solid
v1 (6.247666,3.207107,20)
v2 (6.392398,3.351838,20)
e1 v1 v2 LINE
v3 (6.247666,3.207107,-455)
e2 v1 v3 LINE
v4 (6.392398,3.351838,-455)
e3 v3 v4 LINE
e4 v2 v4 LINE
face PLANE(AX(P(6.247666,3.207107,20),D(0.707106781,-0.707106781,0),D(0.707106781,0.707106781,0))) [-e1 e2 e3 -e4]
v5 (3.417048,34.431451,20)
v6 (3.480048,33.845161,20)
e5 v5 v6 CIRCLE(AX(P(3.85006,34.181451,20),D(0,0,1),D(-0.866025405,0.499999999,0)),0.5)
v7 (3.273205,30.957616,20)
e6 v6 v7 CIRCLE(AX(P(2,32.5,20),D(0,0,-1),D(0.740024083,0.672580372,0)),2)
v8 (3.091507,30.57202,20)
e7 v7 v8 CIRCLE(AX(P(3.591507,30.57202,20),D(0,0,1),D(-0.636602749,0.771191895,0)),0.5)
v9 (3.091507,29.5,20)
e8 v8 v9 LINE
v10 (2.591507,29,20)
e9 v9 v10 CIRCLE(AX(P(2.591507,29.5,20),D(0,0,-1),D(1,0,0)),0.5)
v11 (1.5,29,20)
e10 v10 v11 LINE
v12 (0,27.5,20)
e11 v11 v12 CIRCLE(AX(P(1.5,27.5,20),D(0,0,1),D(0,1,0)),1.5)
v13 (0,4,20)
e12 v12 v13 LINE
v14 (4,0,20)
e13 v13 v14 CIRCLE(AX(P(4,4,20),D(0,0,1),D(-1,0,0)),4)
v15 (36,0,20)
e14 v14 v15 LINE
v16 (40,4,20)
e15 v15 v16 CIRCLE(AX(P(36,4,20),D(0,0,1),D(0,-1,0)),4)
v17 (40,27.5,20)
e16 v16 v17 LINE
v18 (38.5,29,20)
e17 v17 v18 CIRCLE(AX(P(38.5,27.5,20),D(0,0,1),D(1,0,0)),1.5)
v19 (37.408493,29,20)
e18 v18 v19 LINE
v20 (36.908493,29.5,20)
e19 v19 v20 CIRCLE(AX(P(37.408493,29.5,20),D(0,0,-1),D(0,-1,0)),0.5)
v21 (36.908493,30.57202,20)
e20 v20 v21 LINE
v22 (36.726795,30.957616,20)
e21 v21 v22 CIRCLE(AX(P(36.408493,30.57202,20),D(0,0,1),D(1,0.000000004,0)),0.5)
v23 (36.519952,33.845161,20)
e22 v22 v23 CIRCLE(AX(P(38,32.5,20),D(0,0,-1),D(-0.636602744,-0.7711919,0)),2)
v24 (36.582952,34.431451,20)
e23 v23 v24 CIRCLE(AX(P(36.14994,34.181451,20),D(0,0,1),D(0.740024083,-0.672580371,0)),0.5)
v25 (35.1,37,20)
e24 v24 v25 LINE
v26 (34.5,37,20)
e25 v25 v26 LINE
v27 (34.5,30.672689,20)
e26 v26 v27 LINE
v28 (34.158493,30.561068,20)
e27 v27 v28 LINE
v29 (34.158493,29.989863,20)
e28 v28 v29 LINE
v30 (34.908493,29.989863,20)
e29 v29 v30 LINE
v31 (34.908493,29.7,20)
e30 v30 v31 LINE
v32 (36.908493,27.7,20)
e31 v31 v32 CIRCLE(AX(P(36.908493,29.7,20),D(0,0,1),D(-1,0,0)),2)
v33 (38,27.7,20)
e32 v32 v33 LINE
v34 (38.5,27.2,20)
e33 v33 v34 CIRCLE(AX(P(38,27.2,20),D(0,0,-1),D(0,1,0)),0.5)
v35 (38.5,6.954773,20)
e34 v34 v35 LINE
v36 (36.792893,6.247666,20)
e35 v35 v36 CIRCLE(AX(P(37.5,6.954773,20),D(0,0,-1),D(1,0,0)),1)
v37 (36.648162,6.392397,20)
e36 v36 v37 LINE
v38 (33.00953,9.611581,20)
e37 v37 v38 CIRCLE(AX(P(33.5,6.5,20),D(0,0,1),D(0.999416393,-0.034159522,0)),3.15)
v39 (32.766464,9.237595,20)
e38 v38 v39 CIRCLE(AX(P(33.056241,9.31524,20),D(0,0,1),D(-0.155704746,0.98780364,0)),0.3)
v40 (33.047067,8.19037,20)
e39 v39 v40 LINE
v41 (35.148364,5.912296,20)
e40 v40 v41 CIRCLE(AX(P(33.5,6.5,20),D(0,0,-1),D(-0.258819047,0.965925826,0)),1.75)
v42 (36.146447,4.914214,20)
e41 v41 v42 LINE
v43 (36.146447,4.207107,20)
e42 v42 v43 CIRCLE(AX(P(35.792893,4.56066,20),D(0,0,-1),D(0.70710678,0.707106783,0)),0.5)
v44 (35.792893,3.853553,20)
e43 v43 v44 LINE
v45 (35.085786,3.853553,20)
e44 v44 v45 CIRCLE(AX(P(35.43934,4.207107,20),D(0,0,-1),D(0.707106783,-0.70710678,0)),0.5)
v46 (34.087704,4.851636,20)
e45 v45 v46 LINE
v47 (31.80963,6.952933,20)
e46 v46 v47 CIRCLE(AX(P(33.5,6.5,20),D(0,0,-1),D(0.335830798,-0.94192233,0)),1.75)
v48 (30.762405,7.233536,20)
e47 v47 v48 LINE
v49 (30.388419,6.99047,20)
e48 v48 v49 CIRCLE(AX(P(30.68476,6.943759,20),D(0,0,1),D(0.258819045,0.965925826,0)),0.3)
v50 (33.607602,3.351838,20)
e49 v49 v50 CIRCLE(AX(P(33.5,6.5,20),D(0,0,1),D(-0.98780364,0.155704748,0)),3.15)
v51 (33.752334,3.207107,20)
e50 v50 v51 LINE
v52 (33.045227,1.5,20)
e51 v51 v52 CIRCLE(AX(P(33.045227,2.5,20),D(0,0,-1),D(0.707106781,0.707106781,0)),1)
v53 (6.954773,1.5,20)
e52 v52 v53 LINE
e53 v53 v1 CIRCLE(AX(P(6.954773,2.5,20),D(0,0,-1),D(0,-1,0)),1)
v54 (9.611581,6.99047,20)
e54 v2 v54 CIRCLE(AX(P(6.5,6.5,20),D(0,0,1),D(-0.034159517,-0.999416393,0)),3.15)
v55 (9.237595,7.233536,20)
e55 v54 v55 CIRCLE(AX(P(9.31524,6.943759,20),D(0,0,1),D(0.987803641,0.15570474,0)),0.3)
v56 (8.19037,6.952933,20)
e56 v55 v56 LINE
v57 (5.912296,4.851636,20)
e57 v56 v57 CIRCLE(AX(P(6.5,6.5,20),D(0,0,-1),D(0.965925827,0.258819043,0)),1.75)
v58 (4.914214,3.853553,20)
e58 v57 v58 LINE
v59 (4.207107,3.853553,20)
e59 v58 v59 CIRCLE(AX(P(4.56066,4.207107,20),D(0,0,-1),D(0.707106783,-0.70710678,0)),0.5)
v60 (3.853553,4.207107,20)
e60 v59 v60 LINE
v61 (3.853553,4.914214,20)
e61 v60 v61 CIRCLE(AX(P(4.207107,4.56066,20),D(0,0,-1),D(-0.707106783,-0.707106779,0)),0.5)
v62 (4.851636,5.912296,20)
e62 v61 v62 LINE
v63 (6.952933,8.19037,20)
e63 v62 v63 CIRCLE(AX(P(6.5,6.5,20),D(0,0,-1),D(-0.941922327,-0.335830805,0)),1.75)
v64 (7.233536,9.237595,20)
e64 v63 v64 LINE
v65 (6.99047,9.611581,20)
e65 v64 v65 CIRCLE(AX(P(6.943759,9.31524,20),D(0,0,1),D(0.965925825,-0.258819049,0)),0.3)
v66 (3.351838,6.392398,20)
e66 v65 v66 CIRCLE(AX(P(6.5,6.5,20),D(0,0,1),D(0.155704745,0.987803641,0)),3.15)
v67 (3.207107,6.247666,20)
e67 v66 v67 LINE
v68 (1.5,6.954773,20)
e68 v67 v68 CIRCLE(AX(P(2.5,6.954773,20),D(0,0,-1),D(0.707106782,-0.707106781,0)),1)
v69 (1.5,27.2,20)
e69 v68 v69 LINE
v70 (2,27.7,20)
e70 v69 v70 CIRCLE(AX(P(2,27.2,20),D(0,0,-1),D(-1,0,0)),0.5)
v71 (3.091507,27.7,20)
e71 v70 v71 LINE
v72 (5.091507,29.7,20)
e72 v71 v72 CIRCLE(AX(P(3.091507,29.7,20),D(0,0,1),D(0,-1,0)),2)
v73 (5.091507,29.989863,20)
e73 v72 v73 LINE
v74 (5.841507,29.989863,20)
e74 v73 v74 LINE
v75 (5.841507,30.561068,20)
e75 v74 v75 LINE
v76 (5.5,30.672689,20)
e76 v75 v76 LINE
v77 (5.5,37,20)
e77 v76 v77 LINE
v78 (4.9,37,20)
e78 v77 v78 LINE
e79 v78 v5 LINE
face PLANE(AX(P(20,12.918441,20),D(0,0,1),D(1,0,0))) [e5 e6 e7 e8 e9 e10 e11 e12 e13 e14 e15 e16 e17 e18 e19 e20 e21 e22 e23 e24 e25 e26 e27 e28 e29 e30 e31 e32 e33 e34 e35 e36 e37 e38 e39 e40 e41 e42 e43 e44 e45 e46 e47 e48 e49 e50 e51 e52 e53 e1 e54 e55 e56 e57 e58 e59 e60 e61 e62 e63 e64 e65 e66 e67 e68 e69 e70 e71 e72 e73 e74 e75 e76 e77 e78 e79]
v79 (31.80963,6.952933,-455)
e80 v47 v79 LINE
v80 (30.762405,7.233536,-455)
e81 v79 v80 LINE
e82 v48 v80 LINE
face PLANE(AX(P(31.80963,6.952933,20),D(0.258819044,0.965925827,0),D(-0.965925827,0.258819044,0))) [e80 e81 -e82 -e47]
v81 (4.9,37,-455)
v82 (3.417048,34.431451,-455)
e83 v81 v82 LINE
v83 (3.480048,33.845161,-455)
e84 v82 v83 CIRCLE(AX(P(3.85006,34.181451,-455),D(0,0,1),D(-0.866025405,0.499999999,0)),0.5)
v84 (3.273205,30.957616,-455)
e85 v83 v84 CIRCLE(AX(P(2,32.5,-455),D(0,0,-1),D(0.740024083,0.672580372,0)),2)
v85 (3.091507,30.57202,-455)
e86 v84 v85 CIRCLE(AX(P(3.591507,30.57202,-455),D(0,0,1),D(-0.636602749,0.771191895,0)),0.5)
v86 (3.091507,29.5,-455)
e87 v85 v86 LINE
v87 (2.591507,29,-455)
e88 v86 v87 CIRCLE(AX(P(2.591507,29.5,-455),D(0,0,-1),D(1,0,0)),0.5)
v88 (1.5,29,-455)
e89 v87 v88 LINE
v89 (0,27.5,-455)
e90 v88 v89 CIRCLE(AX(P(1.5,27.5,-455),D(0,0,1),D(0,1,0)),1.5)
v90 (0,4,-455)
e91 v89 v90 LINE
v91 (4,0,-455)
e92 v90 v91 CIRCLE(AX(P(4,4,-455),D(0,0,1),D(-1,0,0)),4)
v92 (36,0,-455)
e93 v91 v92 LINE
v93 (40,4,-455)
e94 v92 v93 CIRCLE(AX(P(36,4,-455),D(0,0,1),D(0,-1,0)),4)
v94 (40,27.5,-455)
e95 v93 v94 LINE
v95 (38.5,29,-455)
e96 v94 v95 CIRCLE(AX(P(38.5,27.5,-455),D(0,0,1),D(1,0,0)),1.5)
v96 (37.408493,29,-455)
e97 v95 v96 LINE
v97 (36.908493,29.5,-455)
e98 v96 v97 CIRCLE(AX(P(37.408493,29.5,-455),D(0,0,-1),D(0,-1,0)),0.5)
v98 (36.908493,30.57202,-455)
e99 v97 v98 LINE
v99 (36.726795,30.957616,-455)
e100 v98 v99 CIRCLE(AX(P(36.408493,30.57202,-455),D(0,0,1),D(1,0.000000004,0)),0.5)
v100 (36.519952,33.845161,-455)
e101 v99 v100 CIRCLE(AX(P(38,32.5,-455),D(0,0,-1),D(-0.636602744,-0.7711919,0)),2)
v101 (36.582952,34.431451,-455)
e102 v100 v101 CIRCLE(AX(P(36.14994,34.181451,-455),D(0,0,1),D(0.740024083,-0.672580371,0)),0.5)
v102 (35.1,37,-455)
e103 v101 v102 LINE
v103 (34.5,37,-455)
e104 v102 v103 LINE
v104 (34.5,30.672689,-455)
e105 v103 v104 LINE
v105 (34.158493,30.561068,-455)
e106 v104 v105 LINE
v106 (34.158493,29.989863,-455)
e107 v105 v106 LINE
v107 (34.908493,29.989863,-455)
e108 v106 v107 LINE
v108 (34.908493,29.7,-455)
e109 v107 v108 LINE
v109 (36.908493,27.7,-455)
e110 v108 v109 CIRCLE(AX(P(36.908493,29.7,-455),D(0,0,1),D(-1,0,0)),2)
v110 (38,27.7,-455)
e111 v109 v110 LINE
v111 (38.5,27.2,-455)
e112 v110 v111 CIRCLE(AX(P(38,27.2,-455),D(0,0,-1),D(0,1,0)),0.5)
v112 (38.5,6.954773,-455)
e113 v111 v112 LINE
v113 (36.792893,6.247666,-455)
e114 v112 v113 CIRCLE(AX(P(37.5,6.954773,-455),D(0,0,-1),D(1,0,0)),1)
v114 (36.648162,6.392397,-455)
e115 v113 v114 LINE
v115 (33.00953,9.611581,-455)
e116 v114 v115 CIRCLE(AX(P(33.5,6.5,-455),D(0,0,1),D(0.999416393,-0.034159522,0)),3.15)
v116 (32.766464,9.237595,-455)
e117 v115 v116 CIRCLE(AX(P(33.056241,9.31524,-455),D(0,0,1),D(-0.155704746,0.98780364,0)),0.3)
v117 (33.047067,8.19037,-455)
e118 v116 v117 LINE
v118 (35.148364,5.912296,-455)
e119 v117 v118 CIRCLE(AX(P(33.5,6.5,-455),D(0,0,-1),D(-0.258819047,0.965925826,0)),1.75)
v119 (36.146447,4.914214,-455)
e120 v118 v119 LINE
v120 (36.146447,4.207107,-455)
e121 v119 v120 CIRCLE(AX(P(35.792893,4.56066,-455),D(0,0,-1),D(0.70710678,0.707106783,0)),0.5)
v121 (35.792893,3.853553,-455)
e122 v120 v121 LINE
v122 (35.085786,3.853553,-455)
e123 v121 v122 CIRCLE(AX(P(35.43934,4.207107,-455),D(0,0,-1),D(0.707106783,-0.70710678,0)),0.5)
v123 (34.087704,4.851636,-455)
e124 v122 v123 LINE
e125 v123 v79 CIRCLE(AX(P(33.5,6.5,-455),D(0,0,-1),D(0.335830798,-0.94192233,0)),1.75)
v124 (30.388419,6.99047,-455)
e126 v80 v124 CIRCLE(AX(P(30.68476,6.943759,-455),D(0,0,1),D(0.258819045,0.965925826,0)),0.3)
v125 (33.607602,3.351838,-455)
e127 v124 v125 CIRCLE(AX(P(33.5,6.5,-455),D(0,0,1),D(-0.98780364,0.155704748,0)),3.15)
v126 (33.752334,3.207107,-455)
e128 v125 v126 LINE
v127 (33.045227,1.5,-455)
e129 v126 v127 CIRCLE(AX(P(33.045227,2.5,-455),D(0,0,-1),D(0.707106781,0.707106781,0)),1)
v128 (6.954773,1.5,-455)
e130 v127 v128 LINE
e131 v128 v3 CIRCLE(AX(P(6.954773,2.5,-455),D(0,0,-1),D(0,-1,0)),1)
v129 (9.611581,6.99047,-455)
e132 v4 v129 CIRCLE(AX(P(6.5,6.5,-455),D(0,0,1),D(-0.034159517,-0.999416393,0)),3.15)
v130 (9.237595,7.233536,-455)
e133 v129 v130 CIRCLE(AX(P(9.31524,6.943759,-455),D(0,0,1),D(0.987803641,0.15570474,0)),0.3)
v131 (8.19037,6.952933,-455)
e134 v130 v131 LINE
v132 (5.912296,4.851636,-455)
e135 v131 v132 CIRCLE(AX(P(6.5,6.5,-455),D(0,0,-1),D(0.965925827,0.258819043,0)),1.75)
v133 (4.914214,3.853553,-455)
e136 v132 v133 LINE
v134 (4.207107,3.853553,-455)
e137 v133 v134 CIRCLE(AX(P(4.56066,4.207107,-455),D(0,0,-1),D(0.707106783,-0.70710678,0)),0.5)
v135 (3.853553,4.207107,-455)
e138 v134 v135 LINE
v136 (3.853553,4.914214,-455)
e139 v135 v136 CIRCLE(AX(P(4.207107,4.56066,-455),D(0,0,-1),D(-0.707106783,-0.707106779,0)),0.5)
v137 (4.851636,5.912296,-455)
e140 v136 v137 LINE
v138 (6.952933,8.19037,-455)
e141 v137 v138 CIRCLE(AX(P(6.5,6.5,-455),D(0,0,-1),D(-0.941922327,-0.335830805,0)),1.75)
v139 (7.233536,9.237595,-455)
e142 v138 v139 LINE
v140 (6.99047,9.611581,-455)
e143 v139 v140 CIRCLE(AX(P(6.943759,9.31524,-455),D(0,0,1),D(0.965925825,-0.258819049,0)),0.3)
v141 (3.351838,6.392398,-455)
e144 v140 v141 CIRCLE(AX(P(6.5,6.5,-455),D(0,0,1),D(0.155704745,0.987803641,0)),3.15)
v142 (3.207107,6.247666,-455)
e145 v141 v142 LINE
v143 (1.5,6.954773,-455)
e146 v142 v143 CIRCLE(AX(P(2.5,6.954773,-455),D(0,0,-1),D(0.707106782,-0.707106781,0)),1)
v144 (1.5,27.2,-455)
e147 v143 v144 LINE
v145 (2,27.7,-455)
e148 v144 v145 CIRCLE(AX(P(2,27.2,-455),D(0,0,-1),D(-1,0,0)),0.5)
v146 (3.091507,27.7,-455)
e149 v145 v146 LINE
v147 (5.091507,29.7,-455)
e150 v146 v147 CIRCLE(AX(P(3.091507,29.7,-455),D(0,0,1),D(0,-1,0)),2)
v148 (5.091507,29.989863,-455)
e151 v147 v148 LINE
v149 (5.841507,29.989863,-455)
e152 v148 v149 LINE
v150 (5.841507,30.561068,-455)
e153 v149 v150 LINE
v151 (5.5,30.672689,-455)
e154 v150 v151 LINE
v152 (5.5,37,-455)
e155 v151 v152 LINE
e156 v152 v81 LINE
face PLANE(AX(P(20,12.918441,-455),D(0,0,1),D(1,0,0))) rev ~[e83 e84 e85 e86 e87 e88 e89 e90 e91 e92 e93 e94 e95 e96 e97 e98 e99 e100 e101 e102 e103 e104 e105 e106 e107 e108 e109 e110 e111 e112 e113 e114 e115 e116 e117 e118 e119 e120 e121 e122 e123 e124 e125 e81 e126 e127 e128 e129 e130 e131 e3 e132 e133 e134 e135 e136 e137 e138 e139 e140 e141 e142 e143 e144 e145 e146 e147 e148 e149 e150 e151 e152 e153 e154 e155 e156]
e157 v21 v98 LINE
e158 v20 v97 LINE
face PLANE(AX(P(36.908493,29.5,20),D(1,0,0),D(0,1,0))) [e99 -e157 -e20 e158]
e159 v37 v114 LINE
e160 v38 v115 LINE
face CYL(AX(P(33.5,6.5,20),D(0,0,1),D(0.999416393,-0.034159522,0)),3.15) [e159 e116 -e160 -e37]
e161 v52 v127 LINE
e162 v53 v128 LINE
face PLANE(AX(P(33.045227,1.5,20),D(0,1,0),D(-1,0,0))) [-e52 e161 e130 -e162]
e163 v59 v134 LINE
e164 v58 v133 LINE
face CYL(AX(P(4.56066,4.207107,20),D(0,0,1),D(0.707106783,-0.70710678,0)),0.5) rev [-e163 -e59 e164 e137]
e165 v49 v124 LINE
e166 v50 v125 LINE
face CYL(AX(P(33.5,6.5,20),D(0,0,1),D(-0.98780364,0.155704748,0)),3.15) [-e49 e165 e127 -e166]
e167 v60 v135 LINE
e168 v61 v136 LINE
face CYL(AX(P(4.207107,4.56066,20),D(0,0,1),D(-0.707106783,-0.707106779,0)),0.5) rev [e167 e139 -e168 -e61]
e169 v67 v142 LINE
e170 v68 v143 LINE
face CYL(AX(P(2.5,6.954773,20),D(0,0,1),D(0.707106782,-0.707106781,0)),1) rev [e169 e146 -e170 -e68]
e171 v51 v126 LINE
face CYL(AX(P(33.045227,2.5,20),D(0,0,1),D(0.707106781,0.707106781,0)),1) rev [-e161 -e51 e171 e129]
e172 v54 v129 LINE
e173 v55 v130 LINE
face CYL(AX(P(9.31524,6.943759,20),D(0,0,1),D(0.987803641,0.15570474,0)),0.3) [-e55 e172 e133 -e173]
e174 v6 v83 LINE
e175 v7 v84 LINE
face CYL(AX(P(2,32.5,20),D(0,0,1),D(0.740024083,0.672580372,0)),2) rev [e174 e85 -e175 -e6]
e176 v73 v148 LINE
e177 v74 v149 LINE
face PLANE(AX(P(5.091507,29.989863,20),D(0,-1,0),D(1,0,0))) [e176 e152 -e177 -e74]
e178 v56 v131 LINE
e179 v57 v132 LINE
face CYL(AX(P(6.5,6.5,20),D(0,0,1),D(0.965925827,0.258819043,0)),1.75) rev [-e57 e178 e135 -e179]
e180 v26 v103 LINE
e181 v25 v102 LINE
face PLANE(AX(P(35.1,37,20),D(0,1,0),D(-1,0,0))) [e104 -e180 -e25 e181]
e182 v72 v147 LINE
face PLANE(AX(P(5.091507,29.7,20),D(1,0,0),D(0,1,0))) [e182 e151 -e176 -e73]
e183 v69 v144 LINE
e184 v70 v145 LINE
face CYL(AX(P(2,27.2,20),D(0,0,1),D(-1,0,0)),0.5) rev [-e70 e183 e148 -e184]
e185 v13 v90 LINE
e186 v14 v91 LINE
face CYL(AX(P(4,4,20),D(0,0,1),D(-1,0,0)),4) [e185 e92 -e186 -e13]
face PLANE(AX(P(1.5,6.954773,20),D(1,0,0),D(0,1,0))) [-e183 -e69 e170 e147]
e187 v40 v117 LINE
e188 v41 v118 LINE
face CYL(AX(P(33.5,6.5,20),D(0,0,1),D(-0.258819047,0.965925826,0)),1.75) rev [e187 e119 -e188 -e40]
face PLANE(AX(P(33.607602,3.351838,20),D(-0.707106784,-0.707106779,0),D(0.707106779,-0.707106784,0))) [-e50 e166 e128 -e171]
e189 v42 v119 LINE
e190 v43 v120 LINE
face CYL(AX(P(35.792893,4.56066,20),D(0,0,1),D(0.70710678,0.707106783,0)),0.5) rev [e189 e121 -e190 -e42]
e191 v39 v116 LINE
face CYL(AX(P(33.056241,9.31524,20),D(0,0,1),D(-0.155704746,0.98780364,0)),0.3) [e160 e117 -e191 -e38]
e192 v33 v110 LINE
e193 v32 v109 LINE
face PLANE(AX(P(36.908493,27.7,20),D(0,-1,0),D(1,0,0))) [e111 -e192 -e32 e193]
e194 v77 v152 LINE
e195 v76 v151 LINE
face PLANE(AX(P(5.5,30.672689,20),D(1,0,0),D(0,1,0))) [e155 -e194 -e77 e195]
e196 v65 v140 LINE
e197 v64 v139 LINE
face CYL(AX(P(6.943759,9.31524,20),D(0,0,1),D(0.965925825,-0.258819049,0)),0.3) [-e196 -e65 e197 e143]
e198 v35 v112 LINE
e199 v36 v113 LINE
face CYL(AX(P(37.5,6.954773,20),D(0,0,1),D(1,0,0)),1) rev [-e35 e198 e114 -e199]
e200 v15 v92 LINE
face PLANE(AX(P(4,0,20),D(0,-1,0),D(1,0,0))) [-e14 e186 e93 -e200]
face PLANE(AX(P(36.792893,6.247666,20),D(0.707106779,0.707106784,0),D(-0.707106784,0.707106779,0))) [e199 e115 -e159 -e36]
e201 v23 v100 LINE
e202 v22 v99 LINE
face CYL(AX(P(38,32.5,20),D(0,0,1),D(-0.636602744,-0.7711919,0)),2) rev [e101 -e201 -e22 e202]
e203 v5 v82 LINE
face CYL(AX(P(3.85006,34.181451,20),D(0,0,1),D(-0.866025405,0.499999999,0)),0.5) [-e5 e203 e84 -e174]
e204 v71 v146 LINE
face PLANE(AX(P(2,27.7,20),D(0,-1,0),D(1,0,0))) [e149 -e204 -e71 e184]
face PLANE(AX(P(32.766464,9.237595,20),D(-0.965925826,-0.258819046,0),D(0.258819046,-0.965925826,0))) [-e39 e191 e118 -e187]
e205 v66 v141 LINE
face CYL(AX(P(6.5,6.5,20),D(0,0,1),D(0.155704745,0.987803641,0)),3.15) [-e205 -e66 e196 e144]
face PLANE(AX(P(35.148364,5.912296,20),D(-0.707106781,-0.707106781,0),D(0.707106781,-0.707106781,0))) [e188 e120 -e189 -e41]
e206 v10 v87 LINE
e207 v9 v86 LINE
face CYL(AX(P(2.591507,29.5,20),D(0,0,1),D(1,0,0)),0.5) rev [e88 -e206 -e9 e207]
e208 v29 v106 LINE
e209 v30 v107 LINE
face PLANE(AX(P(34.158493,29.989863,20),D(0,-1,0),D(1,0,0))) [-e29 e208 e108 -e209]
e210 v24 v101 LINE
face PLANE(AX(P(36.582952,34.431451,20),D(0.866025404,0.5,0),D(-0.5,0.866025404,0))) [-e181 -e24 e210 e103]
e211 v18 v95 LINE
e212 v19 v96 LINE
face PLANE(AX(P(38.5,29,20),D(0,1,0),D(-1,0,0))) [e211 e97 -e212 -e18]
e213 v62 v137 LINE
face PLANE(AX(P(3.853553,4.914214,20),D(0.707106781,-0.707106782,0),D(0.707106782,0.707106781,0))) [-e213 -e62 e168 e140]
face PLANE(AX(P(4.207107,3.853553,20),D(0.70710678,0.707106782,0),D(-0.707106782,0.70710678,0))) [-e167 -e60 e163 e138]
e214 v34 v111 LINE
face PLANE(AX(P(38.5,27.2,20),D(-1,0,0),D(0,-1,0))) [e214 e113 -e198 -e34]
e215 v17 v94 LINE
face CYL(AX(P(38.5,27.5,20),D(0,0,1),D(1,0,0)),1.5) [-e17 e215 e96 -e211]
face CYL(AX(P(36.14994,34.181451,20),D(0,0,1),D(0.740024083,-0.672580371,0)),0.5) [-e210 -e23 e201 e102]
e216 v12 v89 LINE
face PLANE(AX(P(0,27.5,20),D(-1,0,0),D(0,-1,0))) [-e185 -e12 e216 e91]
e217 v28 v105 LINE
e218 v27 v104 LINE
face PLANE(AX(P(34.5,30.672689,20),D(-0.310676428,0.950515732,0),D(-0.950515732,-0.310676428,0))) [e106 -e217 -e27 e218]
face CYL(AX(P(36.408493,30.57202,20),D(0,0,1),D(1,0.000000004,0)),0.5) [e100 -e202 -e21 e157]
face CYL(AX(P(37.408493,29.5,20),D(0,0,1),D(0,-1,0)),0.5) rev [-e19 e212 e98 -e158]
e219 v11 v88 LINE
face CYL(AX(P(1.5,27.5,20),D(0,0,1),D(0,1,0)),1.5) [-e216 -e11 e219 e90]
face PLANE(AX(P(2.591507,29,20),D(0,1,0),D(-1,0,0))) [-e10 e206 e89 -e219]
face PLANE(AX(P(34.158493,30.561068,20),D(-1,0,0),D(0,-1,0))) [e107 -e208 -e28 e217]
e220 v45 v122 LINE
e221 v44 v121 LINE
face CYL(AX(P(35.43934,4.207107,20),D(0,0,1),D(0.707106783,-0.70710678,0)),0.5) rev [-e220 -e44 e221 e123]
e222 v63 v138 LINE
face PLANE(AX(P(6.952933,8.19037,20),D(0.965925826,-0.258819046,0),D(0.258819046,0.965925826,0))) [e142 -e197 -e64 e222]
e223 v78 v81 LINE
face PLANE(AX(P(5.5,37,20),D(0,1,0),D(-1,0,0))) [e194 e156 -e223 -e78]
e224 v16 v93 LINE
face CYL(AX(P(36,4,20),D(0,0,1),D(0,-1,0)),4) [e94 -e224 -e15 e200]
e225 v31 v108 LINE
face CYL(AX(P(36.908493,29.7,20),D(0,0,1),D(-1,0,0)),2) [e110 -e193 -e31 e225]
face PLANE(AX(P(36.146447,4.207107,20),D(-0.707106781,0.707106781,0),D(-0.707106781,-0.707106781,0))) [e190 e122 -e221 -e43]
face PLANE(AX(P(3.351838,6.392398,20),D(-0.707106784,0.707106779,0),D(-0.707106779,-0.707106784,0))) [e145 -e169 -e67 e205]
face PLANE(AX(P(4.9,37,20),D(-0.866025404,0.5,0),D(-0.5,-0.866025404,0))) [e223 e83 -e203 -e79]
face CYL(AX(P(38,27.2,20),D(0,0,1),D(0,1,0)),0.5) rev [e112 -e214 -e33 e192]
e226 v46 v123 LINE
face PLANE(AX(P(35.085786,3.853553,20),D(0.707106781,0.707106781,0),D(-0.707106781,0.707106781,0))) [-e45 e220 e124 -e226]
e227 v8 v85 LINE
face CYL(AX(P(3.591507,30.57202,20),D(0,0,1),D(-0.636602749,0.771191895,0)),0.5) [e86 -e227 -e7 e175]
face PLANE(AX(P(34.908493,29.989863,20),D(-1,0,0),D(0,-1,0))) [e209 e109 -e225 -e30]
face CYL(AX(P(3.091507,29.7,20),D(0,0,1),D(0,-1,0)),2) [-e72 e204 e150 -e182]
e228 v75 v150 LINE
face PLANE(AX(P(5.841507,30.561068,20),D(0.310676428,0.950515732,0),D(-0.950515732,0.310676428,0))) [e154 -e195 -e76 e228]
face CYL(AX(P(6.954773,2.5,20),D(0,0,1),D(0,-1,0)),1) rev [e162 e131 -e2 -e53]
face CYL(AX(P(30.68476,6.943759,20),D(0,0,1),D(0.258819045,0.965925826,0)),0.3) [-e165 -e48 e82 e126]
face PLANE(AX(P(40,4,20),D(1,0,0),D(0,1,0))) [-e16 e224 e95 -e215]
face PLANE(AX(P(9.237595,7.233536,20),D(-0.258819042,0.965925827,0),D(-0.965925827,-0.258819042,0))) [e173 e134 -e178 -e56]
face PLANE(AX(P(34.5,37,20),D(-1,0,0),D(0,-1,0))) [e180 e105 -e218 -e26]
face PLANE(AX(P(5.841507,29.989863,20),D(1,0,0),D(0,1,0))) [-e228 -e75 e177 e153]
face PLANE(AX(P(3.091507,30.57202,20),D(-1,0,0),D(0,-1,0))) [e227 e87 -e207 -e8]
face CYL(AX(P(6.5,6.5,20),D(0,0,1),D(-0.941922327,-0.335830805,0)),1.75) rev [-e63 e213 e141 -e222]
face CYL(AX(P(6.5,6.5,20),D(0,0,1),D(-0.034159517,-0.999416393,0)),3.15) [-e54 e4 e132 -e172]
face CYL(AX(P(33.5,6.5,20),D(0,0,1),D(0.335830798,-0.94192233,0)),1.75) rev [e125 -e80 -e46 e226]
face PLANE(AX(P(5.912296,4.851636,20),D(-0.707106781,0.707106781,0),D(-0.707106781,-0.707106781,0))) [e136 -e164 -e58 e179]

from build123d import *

# Parameters (mm, degrees)
BOSS_EXTRUDE1_DEPTH = 475


with BuildPart() as part:
    # Sketch1 → Boss-Extrude1 (new body)
    with BuildSketch(Plane.XY.offset(20)):
        with BuildLine():
            Line((4, 0), (36, 0))
            ThreePointArc((36, 0), (38.828427125, 1.171572875), (40, 4))
            Line((40, 4), (40, 27.499999994))
            ThreePointArc((40, 27.499999994), (39.56066017, 28.56066017), (38.499999994, 29))
            Line((38.499999994, 29), (37.408493132, 29))
            ThreePointArc((37.408493132, 29), (37.05493974, 29.14644661), (36.90849313, 29.500000002))
            Line((36.90849313, 29.500000002), (36.90849313, 30.572020267))
            ThreePointArc((36.90849313, 30.572020267), (36.86079319, 30.785150869), (36.726794508, 30.957616203))
            ThreePointArc((36.726794508, 30.957616203), (36.005111578, 32.357100716), (36.519951827, 33.845160752))
            ThreePointArc((36.519951827, 33.845160752), (36.647077826, 34.128030253), (36.582952488, 34.431450944))
            Line((36.582952488, 34.431450944), (35.099999998, 37.000000001))
            Line((35.099999998, 37.000000001), (34.500000002, 37.000000001))
            Line((34.500000002, 37.000000001), (34.500000002, 30.672689193))
            Line((34.500000002, 30.672689193), (34.158493132, 30.561067543))
            Line((34.158493132, 30.561067543), (34.158493132, 29.989862813))
            Line((34.158493132, 29.989862813), (34.908493132, 29.989862813))
            Line((34.908493132, 29.989862813), (34.908493132, 29.700000011))
            ThreePointArc((34.908493132, 29.700000011), (35.494279572, 28.285786443), (36.908493141, 27.700000003))
            Line((36.908493141, 27.700000003), (38.000000017, 27.700000003))
            ThreePointArc((38.000000017, 27.700000003), (38.353553409, 27.553553393), (38.500000019, 27.200000001))
            Line((38.500000019, 27.200000001), (38.500000019, 6.9547727))
            ThreePointArc((38.500000019, 6.9547727), (37.882683451, 6.030893167), (36.792893237, 6.247665919))
            Line((36.792893237, 6.247665919), (36.648161659, 6.392397496))
            ThreePointArc((36.648161659, 6.392397496), (35.587251229, 8.859212237), (33.009530056, 9.611581471))
            ThreePointArc((33.009530056, 9.611581471), (32.804700675, 9.478725012), (32.766463725, 9.237594653))
            Line((32.766463725, 9.237594653), (33.047066675, 8.190370192))
            ThreePointArc((33.047066675, 8.190370192), (34.786339421, 7.686520507), (35.148364083, 5.912296075))
            Line((35.148364083, 5.912296075), (36.146446608, 4.91421355))
            ThreePointArc((36.146446608, 4.91421355), (36.292893217, 4.560660161), (36.146446608, 4.207106773))
            Line((36.146446608, 4.207106773), (35.792893214, 3.853553379))
            ThreePointArc((35.792893214, 3.853553379), (35.439339826, 3.70710677), (35.085786437, 3.853553379))
            Line((35.085786437, 3.853553379), (34.087703906, 4.85163591))
            ThreePointArc((34.087703906, 4.85163591), (32.313479487, 5.213660585), (31.809629807, 6.952933321))
            Line((31.809629807, 6.952933321), (30.762405333, 7.233536272))
            ThreePointArc((30.762405333, 7.233536272), (30.521274984, 7.195299323), (30.38841853, 6.990469949))
            ThreePointArc((30.38841853, 6.990469949), (31.140787752, 4.412748784), (33.607602477, 3.351838341))
            Line((33.607602477, 3.351838341), (33.752334032, 3.207106785))
            ThreePointArc((33.752334032, 3.207106785), (33.969106782, 2.117316579), (33.045227255, 1.500000015))
            Line((33.045227255, 1.500000015), (6.954772716, 1.500000015))
            ThreePointArc((6.954772716, 1.500000015), (6.030893183, 2.117316583), (6.247665934, 3.207106797))
            Line((6.247665934, 3.207106797), (6.392397512, 3.351838375))
            ThreePointArc((6.392397512, 3.351838375), (8.859212224, 4.412748803), (9.611581449, 6.990469949))
            ThreePointArc((9.611581449, 6.990469949), (9.478724996, 7.195299323), (9.237594646, 7.233536272))
            Line((9.237594646, 7.233536272), (8.190370187, 6.952933328))
            ThreePointArc((8.190370187, 6.952933328), (7.686520502, 5.213660596), (5.912296085, 4.851635932))
            Line((5.912296085, 4.851635932), (4.914213553, 3.8535534))
            ThreePointArc((4.914213553, 3.8535534), (4.560660164, 3.707106791), (4.207106776, 3.8535534))
            Line((4.207106776, 3.8535534), (3.853553388, 4.207106787))
            ThreePointArc((3.853553388, 4.207106787), (3.70710678, 4.560660175), (3.853553388, 4.914213564))
            Line((3.853553388, 4.914213564), (4.85163592, 5.912296095))
            ThreePointArc((4.85163592, 5.912296095), (5.213660585, 7.686520517), (6.952933322, 8.190370198))
            Line((6.952933322, 8.190370198), (7.233536268, 9.237594644))
            ThreePointArc((7.233536268, 9.237594644), (7.195299318, 9.478725003), (6.990469936, 9.611581462))
            ThreePointArc((6.990469936, 9.611581462), (4.412748785, 8.859212233), (3.351838362, 6.392397513))
            Line((3.351838362, 6.392397513), (3.207106785, 6.247665935))
            ThreePointArc((3.207106785, 6.247665935), (2.11731657, 6.030893183), (1.500000002, 6.954772717))
            Line((1.500000002, 6.954772717), (1.500000002, 27.200000001))
            ThreePointArc((1.500000002, 27.200000001), (1.646446612, 27.553553393), (2.000000004, 27.700000003))
            Line((2.000000004, 27.700000003), (3.091506864, 27.700000003))
            ThreePointArc((3.091506864, 27.700000003), (4.505720432, 28.285786443), (5.091506872, 29.700000011))
            Line((5.091506872, 29.700000011), (5.091506872, 29.989862813))
            Line((5.091506872, 29.989862813), (5.841506868, 29.989862813))
            Line((5.841506868, 29.989862813), (5.841506868, 30.561067541))
            Line((5.841506868, 30.561067541), (5.499999998, 30.672689191))
            Line((5.499999998, 30.672689191), (5.499999998, 37.000000001))
            Line((5.499999998, 37.000000001), (4.899999998, 37.000000001))
            Line((4.899999998, 37.000000001), (3.417047508, 34.431450944))
            ThreePointArc((3.417047508, 34.431450944), (3.35292217, 34.128030253), (3.480048169, 33.845160751))
            ThreePointArc((3.480048169, 33.845160751), (3.99488842, 32.357100716), (3.273205491, 30.957616203))
            ThreePointArc((3.273205491, 30.957616203), (3.13920681, 30.785150869), (3.09150687, 30.572020267))
            Line((3.09150687, 30.572020267), (3.09150687, 29.500000002))
            ThreePointArc((3.09150687, 29.500000002), (2.94506026, 29.14644661), (2.591506868, 29))
            Line((2.591506868, 29), (1.500000006, 29))
            ThreePointArc((1.500000006, 29), (0.43933983, 28.56066017), (0, 27.499999994))
            Line((0, 27.499999994), (0, 4))
            ThreePointArc((0, 4), (1.171572875, 1.171572875), (4, 0))
        make_face()
    extrude(amount=-BOSS_EXTRUDE1_DEPTH)


solid = part.part
